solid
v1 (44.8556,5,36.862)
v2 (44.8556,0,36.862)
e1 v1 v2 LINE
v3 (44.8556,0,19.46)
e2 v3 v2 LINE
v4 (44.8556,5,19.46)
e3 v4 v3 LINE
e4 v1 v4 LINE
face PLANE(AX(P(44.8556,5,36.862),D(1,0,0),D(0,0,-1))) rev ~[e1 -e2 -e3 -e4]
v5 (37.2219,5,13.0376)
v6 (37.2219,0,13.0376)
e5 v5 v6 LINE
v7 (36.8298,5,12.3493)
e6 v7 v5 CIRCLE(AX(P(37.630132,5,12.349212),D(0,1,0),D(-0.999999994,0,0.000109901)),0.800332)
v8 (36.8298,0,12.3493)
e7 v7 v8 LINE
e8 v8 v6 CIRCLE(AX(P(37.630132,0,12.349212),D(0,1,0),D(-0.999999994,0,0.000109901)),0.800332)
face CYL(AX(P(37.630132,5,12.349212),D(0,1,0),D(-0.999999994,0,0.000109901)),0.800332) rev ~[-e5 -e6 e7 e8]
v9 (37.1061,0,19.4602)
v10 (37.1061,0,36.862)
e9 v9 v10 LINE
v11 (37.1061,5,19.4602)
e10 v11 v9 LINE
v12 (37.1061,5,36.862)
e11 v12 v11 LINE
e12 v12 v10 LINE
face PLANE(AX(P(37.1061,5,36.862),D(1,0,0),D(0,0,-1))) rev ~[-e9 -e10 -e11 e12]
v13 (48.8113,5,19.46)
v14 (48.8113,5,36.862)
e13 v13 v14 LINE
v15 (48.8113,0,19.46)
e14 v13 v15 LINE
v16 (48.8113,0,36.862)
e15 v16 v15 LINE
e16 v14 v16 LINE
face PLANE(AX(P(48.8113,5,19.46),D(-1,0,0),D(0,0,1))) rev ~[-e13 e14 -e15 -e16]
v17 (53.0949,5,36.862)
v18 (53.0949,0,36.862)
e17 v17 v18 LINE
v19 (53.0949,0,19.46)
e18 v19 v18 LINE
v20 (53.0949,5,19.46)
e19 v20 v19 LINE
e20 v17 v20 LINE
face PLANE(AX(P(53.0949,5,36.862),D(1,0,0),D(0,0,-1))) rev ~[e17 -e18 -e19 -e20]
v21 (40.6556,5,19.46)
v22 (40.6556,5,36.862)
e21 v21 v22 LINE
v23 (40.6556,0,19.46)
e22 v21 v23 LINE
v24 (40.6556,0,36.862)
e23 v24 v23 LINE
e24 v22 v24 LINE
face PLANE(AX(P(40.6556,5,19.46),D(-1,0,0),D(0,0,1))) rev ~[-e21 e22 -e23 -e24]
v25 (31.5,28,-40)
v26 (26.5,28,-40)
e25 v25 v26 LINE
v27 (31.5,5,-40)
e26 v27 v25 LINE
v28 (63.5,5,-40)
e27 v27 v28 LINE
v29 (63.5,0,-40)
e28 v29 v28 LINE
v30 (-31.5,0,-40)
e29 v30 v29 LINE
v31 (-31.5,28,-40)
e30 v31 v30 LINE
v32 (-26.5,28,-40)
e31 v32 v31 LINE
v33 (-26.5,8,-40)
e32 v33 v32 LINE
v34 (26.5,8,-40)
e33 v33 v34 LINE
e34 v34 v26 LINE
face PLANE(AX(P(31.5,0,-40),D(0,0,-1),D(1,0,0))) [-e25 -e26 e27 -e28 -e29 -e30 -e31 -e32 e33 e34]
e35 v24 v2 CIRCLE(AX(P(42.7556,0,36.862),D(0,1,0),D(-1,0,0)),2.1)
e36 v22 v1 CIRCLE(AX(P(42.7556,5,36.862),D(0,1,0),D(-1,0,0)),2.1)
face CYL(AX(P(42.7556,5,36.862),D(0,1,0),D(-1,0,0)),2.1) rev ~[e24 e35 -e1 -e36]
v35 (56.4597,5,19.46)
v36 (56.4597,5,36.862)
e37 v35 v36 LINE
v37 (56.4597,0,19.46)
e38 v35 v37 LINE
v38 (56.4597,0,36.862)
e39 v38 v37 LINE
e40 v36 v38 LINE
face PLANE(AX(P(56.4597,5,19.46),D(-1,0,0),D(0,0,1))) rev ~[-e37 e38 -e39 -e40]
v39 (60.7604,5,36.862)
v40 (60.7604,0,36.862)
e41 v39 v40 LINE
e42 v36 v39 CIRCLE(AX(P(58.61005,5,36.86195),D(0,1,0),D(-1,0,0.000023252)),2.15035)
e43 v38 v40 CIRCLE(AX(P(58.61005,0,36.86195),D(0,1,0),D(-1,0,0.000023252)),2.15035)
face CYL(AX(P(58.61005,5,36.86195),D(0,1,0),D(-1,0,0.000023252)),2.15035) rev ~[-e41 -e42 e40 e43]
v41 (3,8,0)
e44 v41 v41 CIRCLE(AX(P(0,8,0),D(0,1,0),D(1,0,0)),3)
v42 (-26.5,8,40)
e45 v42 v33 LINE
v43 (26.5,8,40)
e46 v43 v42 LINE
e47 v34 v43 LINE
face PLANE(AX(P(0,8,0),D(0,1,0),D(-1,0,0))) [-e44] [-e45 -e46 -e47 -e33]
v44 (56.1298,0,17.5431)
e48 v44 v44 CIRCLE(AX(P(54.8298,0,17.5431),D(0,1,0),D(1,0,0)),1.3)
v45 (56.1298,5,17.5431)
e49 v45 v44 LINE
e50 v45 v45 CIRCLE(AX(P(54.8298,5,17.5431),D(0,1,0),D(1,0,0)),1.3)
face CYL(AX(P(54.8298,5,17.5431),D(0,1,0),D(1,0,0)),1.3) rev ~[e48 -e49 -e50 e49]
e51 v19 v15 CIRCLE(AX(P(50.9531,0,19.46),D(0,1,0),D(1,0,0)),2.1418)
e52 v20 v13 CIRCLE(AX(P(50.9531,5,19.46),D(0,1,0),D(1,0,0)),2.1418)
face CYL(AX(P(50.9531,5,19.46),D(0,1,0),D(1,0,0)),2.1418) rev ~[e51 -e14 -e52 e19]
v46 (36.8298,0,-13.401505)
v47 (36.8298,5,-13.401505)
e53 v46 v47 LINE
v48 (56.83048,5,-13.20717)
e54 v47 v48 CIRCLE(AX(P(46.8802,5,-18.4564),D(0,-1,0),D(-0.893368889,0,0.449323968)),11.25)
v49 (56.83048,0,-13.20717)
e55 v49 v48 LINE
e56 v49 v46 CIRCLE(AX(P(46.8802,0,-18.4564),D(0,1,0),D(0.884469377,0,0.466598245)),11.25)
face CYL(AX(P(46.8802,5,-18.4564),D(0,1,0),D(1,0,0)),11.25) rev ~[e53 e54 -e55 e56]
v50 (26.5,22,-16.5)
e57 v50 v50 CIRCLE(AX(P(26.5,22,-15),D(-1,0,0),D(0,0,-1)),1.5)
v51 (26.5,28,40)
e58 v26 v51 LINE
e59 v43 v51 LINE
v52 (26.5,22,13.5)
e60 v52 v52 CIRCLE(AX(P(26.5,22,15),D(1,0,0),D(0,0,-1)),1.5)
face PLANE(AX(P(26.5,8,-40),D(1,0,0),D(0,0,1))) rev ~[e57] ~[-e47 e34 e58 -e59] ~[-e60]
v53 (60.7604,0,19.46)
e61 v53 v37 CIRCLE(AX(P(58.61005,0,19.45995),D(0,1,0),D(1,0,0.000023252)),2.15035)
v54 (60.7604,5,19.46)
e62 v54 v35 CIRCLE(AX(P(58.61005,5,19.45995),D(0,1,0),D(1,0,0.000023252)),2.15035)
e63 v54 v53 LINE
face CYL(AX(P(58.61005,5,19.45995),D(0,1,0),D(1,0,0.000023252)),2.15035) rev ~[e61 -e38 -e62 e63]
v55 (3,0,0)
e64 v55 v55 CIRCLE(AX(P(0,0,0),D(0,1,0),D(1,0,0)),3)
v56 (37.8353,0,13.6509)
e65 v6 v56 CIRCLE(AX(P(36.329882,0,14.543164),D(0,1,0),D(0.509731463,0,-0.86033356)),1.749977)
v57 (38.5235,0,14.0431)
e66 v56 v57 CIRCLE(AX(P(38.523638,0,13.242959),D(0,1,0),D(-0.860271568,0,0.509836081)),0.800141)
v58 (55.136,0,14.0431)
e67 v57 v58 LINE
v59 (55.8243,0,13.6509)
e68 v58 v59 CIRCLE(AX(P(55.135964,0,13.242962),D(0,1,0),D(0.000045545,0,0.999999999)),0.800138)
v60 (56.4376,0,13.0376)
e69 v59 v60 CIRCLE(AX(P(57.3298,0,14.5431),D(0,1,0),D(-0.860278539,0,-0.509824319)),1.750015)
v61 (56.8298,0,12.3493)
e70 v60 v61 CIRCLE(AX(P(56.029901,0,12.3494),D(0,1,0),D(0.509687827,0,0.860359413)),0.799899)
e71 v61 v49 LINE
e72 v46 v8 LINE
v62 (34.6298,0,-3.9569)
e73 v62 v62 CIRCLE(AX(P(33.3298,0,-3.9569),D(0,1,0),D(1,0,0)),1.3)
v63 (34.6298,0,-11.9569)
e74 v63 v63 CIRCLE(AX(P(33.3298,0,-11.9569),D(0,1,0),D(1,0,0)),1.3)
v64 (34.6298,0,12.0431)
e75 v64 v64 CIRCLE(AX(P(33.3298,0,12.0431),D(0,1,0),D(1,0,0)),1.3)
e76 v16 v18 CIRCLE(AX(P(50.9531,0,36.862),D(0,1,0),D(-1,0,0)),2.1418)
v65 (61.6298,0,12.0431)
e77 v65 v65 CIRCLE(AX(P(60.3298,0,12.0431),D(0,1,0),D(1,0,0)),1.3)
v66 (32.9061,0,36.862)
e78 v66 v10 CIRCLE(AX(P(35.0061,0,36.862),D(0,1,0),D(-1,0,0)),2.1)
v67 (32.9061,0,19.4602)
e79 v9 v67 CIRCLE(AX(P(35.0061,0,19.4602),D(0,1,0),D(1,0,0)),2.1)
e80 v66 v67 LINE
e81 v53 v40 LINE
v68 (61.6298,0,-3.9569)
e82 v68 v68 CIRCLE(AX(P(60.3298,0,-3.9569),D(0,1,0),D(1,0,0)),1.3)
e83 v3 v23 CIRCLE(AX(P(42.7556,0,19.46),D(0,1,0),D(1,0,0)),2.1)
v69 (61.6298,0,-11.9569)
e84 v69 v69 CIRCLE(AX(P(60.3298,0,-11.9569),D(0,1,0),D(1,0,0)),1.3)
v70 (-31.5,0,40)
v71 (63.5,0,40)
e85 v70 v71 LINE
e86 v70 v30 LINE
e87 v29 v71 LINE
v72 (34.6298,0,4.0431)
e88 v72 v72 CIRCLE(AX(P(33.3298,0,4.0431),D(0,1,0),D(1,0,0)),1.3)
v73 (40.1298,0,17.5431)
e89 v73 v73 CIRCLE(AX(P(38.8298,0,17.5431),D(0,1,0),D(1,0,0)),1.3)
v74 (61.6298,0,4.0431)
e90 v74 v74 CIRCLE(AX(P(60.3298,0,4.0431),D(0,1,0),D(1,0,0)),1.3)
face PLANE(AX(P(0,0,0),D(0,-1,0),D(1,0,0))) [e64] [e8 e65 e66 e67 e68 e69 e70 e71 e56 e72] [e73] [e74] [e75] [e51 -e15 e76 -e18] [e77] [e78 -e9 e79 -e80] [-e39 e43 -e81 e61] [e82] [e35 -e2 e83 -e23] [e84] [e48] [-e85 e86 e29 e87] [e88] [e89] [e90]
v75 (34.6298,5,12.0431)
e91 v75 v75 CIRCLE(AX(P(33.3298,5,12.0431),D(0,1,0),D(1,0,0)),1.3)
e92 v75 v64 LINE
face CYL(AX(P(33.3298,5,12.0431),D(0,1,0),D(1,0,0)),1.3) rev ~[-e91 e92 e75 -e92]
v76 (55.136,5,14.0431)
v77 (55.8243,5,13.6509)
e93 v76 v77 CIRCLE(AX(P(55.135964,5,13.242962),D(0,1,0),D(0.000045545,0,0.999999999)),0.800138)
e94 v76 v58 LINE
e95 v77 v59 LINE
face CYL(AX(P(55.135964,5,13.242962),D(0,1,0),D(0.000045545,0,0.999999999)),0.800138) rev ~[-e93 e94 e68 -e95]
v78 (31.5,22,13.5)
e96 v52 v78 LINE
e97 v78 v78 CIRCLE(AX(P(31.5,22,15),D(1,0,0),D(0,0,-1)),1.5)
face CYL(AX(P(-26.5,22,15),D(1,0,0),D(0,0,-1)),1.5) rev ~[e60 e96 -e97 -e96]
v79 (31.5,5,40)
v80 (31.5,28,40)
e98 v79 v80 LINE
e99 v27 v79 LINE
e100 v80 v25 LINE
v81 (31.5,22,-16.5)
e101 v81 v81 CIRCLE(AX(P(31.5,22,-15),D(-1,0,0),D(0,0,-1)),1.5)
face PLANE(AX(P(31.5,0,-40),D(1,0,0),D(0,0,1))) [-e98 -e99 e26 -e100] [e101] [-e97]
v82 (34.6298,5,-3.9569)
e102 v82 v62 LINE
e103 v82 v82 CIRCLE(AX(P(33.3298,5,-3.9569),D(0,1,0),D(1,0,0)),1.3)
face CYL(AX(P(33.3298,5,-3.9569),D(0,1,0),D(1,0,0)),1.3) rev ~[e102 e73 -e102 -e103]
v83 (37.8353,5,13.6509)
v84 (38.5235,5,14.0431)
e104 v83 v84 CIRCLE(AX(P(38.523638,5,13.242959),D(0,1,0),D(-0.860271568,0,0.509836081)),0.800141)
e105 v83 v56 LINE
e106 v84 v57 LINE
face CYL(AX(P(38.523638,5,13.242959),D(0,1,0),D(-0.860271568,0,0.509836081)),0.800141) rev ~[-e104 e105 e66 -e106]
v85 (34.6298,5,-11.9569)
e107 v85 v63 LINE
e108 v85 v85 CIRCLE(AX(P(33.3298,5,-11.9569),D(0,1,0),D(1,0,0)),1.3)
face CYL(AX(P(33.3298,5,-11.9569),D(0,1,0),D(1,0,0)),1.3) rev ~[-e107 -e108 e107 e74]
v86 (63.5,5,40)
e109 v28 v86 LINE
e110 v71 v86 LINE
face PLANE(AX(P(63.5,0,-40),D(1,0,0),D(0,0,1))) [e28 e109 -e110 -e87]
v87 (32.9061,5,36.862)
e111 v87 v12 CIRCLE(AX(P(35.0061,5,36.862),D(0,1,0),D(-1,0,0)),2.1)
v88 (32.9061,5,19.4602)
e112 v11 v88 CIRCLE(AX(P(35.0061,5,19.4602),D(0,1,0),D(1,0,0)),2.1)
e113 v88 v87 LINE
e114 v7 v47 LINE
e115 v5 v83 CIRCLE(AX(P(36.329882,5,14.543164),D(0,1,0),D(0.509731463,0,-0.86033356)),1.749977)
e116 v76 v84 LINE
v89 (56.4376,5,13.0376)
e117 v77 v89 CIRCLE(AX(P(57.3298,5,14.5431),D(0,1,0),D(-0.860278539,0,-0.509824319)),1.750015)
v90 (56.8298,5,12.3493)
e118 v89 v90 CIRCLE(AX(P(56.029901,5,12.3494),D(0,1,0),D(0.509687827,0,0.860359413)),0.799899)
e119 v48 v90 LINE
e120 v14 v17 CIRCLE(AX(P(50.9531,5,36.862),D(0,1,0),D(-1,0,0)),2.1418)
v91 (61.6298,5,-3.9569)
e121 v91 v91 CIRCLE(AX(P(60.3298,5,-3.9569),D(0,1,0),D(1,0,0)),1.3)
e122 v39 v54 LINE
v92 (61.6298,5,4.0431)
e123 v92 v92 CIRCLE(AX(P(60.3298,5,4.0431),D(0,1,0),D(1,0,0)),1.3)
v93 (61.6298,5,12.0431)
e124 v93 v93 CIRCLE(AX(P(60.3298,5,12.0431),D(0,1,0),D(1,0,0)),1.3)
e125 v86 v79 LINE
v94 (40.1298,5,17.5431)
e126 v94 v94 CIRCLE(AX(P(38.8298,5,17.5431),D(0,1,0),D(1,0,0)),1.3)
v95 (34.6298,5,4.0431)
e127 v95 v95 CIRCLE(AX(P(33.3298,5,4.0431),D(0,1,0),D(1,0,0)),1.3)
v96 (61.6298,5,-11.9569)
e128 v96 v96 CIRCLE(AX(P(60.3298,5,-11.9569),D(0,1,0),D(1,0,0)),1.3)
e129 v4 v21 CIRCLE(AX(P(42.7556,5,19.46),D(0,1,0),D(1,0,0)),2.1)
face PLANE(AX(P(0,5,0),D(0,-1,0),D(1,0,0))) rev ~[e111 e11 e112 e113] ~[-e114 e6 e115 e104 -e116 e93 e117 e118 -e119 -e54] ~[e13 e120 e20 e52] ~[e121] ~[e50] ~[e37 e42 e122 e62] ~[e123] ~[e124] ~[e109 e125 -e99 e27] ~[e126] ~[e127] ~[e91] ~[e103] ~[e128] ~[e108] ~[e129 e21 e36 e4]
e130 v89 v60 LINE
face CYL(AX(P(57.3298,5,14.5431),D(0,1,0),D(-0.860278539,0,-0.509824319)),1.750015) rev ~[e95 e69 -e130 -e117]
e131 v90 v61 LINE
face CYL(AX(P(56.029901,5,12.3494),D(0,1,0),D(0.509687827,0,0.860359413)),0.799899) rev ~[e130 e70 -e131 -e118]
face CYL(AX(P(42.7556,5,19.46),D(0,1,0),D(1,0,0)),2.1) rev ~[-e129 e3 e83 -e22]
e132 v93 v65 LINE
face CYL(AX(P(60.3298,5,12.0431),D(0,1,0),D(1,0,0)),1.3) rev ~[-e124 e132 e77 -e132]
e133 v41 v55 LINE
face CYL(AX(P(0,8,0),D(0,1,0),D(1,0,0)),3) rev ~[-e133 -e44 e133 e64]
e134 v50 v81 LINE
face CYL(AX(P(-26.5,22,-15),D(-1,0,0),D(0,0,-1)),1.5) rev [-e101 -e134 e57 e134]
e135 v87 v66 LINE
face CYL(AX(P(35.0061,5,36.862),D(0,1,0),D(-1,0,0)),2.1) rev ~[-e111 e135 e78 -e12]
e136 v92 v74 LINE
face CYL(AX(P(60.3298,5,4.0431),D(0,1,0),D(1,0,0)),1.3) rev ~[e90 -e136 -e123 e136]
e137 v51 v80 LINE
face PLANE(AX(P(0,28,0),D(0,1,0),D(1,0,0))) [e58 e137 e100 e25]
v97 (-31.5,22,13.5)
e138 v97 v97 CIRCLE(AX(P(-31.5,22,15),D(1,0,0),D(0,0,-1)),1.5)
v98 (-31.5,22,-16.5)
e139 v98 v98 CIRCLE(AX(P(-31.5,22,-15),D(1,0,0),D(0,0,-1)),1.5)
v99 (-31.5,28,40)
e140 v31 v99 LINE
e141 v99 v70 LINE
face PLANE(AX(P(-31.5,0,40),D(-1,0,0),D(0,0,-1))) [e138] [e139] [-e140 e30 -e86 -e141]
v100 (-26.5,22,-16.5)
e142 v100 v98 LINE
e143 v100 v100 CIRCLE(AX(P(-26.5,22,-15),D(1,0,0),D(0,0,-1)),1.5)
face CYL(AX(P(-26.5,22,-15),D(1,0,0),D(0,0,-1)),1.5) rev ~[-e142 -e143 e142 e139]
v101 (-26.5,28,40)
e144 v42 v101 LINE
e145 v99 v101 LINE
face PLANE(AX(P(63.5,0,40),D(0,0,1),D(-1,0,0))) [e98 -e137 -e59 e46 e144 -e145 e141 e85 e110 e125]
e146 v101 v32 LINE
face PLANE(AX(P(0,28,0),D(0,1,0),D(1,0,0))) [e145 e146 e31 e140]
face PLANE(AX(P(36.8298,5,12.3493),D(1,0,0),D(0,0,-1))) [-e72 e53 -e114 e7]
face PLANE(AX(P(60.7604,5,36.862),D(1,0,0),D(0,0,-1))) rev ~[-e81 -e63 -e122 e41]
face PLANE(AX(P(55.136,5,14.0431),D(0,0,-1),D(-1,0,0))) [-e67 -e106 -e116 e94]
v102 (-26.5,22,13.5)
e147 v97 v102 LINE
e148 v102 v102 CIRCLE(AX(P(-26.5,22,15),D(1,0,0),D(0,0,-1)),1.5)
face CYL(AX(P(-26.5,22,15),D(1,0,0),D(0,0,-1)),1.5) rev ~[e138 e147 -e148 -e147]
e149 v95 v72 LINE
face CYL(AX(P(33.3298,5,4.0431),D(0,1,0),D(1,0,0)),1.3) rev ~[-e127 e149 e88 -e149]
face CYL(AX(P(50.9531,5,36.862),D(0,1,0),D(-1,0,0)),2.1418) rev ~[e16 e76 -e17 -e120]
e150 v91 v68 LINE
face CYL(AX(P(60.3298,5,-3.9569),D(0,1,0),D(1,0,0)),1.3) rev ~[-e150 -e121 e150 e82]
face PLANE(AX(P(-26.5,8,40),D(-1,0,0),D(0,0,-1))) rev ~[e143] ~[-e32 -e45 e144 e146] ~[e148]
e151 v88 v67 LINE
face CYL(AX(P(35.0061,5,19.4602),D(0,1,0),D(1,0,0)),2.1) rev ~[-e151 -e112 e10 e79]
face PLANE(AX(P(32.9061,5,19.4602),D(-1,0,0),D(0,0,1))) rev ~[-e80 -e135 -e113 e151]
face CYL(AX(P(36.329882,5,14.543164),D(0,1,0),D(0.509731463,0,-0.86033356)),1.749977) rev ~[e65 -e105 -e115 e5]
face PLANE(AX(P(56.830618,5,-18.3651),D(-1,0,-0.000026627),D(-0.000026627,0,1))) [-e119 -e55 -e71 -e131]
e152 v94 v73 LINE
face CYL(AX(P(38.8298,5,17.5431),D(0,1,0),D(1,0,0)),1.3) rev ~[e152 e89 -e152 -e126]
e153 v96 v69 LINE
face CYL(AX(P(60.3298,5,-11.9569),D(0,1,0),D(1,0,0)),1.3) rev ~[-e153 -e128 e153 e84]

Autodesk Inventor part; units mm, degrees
ref_plane "YZ Plane" through (0, 0, 0) normal (1, 0, 0) x (0, 1, 0)
ref_plane "XZ Plane" through (0, 0, 0) normal (0, 1, 0) x (-1, 0, 0)
ref_plane "XY Plane" through (0, 0, 0) normal (0, 0, 1) x (1, 0, 0)
sketch "Эскиз1" plane through (0, 0, 0) normal (0, 1, 0) x (-1, 0, 0)
  line L0 (-31.5, 40) -> (31.5, 40)
  line L1 (31.5, 40) -> (31.5, -40)
  line L2 (31.5, -40) -> (-31.5, -40)
  line L3 (-31.5, -40) -> (-31.5, 40)
  line L4 (-31.5, 40) -> (31.5, -40) construction
  line L5 (31.5, 40) -> (-31.5, -40) construction
  point P0 (0, 0)
  dimension "d0" = 63
  dimension "d1" = 80
extrude "Выдавливание1" add sketch "Эскиз1" along normal blind 8
sketch "Эскиз2" plane through (0, 8, 0) normal (0, 1, 0) x (1, 0, 0)
  line L0 (-31.5, -40) -> (31.5, -40) projected
  line L1 (31.5, 40) -> (-31.5, 40) projected
  line L2 (-31.5, -40) -> (-26.5, -40)
  line L3 (-26.5, -40) -> (-26.5, 40)
  line L4 (-26.5, 40) -> (-31.5, 40)
  line L5 (-31.5, 40) -> (-31.5, -40)
  line L6 (31.5, -40) -> (31.5, 40) projected
  line L7 (31.5, 40) -> (26.5, 40)
  line L8 (26.5, 40) -> (26.5, -40)
  line L9 (26.5, -40) -> (31.5, -40)
  line L10 (31.5, -40) -> (31.5, 40)
  point P0 (0, 0)
  dimension "d4" = 5
  dimension "d5" = 5
extrude "Выдавливание2" add sketch "Эскиз2" along normal blind 20 contours L5 L1 L3 L0 | L8 L1 L6 L0
sketch "Эскиз3" plane through (-26.5, 8, 40) normal (1, 0, 0) x (0, 0, -1)
  line L0 (0, 0) -> (0, 20) projected
  line L1 (0, 0) -> (25, 0)
  line L2 (25, 0) -> (25, 14)
  line L3 (25, 14) -> (0, 14)
  line L4 (0, 14) -> (0, 0)
  circle A0 centre (25, 14) radius 1.5
  line L5 (80, 20) -> (0, 20) projected
  line L6 (40, 20) -> (40, 22.577)
  circle A1 centre (55, 14) radius 1.5
  point P0 (40, -8)
  dimension "d8" = 25
  dimension "d9" = 14
  dimension "d10" = 3
extrude "Выдавливание3" cut sketch "Эскиз3" along normal blind 63.5 and the other way blind 5 contours A0 L2 L3 | L3 L2 A0 | A1
sketch "Эскиз4" plane through (0, 0, 0) normal (0, -1, 0) x (1, 0, 0)
  line L0 (31.5, -40) -> (31.5, 40) projected
  line L1 (31.5, -40) -> (63.5, -40)
  line L2 (63.5, -40) -> (63.5, 40)
  line L3 (63.5, 40) -> (31.5, 40)
  line L4 (31.5, 40) -> (31.5, -40)
  point P0 (0, 0)
  dimension "d15" = 32
  dimension "d16" = 80
extrude "Выдавливание4" add sketch "Эскиз4" against normal blind 5
sketch "Эскиз5" plane through (0, 5, 0) normal (0, 1, 0) x (1, 0, 0)
  line L0 (34.2298, 0.6569) -> (31.9298, 0.6569)
  line L1 (34.2298, 0.6569) -> (34.2298, -0.7431)
  line L2 (31.9298, -0.7431) -> (34.2298, -0.7431)
  line L3 (31.9298, -7.3431) -> (31.9298, -0.7431)
  line L4 (34.2298, -7.3431) -> (31.9298, -7.3431)
  circle A0 centre (46.8802, 18.4564) radius 9.15
  circle A1 centre (46.8298, 18.4569) radius 1.5
  circle A2 centre (54.8298, -17.5431) radius 1.3
  circle A3 centre (60.3298, -4.0431) radius 1.3
  circle A4 centre (60.3298, -12.0431) radius 1.3
  circle A5 centre (60.3298, 3.9569) radius 1.3
  circle A6 centre (60.3298, 11.9569) radius 1.3
  circle A7 centre (38.8298, -17.5431) radius 1.3
  circle A8 centre (33.3298, -4.0431) radius 1.3
  circle A9 centre (33.3298, -12.0431) radius 1.3
  circle A10 centre (33.3298, 3.9569) radius 1.3
  circle A11 centre (33.3298, 11.9569) radius 1.3
  line L5 (46.7298, 29.4767) -> (46.7298, 28.9365)
  line L6 (39.8298, 29.4767) -> (46.7298, 29.4767)
  arc A12 (39.8298, 29.4767) -> (39.0798, 29.4255) centre (39.8298, 23.9569) ccw
  line L7 (39.0798, 26.9569) -> (39.0798, 29.4255)
  arc A13 (37.3298, 25.2069) -> (39.0798, 26.9569) centre (37.3298, 26.9569) ccw
  line L8 (36.8298, 25.2069) -> (37.3298, 25.2069)
  line L9 (36.8298, -12.3493) -> (36.8298, 25.2069)
  arc A14 (36.8298, -12.3493) -> (37.2219, -13.0376) centre (37.6298, -12.3493) ccw
  arc A15 (37.2219, -13.0376) -> (37.8353, -13.6509) centre (36.3298, -14.5431) ccw
  arc A16 (37.8353, -13.6509) -> (38.5235, -14.0431) centre (38.5235, -13.2431) ccw
  line L10 (55.136, -14.0431) -> (38.5235, -14.0431)
  arc A17 (55.136, -14.0431) -> (55.8243, -13.6509) centre (55.136, -13.2431) ccw
  arc A18 (56.4376, -13.0376) -> (55.8243, -13.6509) centre (57.3298, -14.5431) ccw
  arc A19 (55.8243, -13.6509) -> (56.4376, -13.0376) centre (57.3298, -14.5431) ccw
  line L11 (35.5069, 25.2069) -> (36.8298, 25.2069)
  arc A20 (35.5069, 25.2069) -> (35.3298, 23.9569) centre (39.8376, 23.9558) ccw
  line L12 (35.3298, 23.9569) -> (35.3298, 16.4569)
  line L13 (34.2298, 16.4569) -> (35.3298, 16.4569)
  line L14 (34.2298, 15.2569) -> (34.2298, 16.4569)
  line L15 (31.9298, 15.2569) -> (34.2298, 15.2569)
  line L16 (31.9298, 8.6569) -> (31.9298, 15.2569)
  line L17 (34.2298, 8.6569) -> (31.9298, 8.6569)
  line L18 (34.2298, 7.2569) -> (34.2298, 8.6569)
  line L19 (31.9298, 7.2569) -> (34.2298, 7.2569)
  line L20 (31.9298, 0.6569) -> (31.9298, 7.2569)
  line L21 (34.2298, 0.6569) -> (31.9298, 0.6569)
  line L22 (34.2298, -0.7431) -> (34.2298, 0.6569)
  line L23 (31.9298, -0.7431) -> (34.2298, -0.7431)
  line L24 (31.9298, -7.3431) -> (31.9298, -0.7431)
  line L25 (34.2298, -7.3431) -> (31.9298, -7.3431)
  line L26 (34.2298, -8.7431) -> (34.2298, -7.3431)
  line L27 (31.9298, -8.7431) -> (34.2298, -8.7431)
  line L28 (31.9298, -15.3431) -> (31.9298, -8.7431)
  line L29 (34.2298, -15.3431) -> (31.9298, -15.3431)
  line L30 (34.2298, -16.5629) -> (34.2298, -15.3431)
  arc A21 (34.2298, -16.5629) -> (34.31, -16.6431) centre (35.3298, -15.5431) ccw
  line L31 (35.5298, -16.6431) -> (34.31, -16.6431)
  line L32 (35.5298, -18.9431) -> (35.5298, -16.6431)
  line L33 (42.1298, -18.9431) -> (35.5298, -18.9431)
  line L34 (42.1298, -16.6431) -> (42.1298, -18.9431)
  line L35 (51.5298, -16.6431) -> (42.1298, -16.6431)
  line L36 (51.5298, -18.9431) -> (51.5298, -16.6431)
  line L37 (58.1298, -18.9431) -> (51.5298, -18.9431)
  line L38 (58.1298, -16.6431) -> (58.1298, -18.9431)
  line L39 (59.3496, -16.6431) -> (58.1298, -16.6431)
  arc A22 (59.3496, -16.6431) -> (59.4298, -16.5629) centre (58.3298, -15.5431) ccw
  line L40 (59.4298, -15.3431) -> (59.4298, -16.5629)
  line L41 (61.7298, -15.3431) -> (59.4298, -15.3431)
  line L42 (61.7298, -8.7431) -> (61.7298, -15.3431)
  line L43 (59.4298, -8.7431) -> (61.7298, -8.7431)
  line L44 (59.4298, -7.3431) -> (59.4298, -8.7431)
  line L45 (61.7298, -7.3431) -> (59.4298, -7.3431)
  line L46 (61.7298, -0.7431) -> (61.7298, -7.3431)
  line L47 (59.4298, -0.7431) -> (61.7298, -0.7431)
  line L48 (59.4298, 0.6569) -> (59.4298, -0.7431)
  line L49 (61.7298, 0.6569) -> (59.4298, 0.6569)
  line L50 (61.7298, 7.2569) -> (61.7298, 0.6569)
  line L51 (59.4298, 7.2569) -> (61.7298, 7.2569)
  line L52 (59.4298, 8.6569) -> (59.4298, 7.2569)
  line L53 (61.7298, 8.6569) -> (59.4298, 8.6569)
  line L54 (61.7298, 15.2568) -> (61.7298, 8.6569)
  line L55 (59.4305, 15.2569) -> (61.7298, 15.2568)
  line L56 (59.4306, 16.4569) -> (59.4305, 15.2569)
  line L57 (58.3306, 16.4569) -> (59.4306, 16.4569)
  line L58 (58.3308, 23.9569) -> (58.3306, 16.4569)
  arc A23 (58.3308, 23.9569) -> (58.1537, 25.2069) centre (53.8229, 23.9559) ccw
  line L59 (56.8308, 25.2069) -> (58.1537, 25.2069)
  line L60 (56.3308, 25.2069) -> (56.8308, 25.2069)
  arc A24 (54.5808, 26.957) -> (56.3308, 25.2069) centre (56.3308, 26.9569) ccw
  line L61 (54.5809, 29.4256) -> (54.5808, 26.957)
  arc A25 (54.5809, 29.4256) -> (53.8309, 29.4768) centre (53.8308, 23.957) ccw
  line L62 (46.9309, 29.477) -> (53.8309, 29.4768)
  line L63 (46.9309, 28.9368) -> (46.9309, 29.477)
  arc A26 (37.8353, -13.6509) -> (37.2219, -13.0376) centre (36.3298, -14.5431) ccw
  arc A27 (56.4376, -13.0376) -> (56.8298, -12.3493) centre (56.0298, -12.3493) ccw
  line L64 (56.8308, 25.2069) -> (56.8298, -12.3493)
  line L65 (56.0298, 18.3651) -> (56.8306, 18.3651)
  line L66 (37.7307, 18.3656) -> (36.8298, 18.3657)
  point P0 (0, 0)
extrude "Выдавливание5" cut sketch "Эскиз5" against normal through all contours L66 A0 L65 L64 A27 A18 A17 L10 A16 A26 A14 L9 | A0 | A26 A15 | A19 A18 | A1 | A2 | A3 | A4 | A5 | A6 | A7 | A8 | A9 | A10 | A11
sketch "Эскиз6" plane through (0, 5, 0) normal (0, 1, 0) x (1, 0, 0)
  arc A0 (56.0298, 18.3651) -> (37.7307, 18.3656) centre (46.8802, 18.4564) ccw projected
  circle A1 centre (46.8802, 18.4564) radius 11.25
  point P0 (0, 0)
  dimension "d21" = 22.5
extrude "Выдавливание6" cut sketch "Эскиз6" against normal through all
sketch "Эскиз7" plane through (0, 8, 0) normal (0, 1, 0) x (1, 0, 0)
  circle A0 centre (0, 0) radius 3
  dimension "d24" = 6
extrude "Выдавливание7" cut sketch "Эскиз7" against normal through all
sketch "Эскиз8" plane through (0, 5, 0) normal (0, 1, 0) x (1, 0, 0)
  line L0 (35.0061, -36.862) -> (35.0061, -19.4602) construction
  line L1 (37.1061, -36.862) -> (37.1061, -19.4602)
  line L2 (32.9061, -19.4602) -> (32.9061, -36.862)
  arc A0 (32.9061, -36.862) -> (37.1061, -36.862) centre (35.0061, -36.862) ccw
  arc A1 (37.1061, -19.4602) -> (32.9061, -19.4602) centre (35.0061, -19.4602) ccw
  line L3 (42.7556, -36.862) -> (42.7556, -19.46) construction
  line L4 (44.8556, -36.862) -> (44.8556, -19.46)
  line L5 (40.6556, -19.46) -> (40.6556, -36.862)
  arc A2 (40.6556, -36.862) -> (44.8556, -36.862) centre (42.7556, -36.862) ccw
  arc A3 (44.8556, -19.46) -> (40.6556, -19.46) centre (42.7556, -19.46) ccw
  line L6 (50.9531, -36.862) -> (50.9531, -19.46) construction
  line L7 (53.0949, -36.862) -> (53.0949, -19.46)
  line L8 (48.8113, -19.46) -> (48.8113, -36.862)
  arc A4 (48.8113, -36.862) -> (53.0949, -36.862) centre (50.9531, -36.862) ccw
  arc A5 (53.0949, -19.46) -> (48.8113, -19.46) centre (50.9531, -19.46) ccw
  line L9 (58.61, -36.862) -> (58.61, -19.46) construction
  line L10 (60.7604, -36.862) -> (60.7604, -19.46)
  line L11 (56.4597, -19.46) -> (56.4597, -36.862)
  arc A6 (56.4597, -36.862) -> (60.7604, -36.862) centre (58.61, -36.862) ccw
  arc A7 (60.7604, -19.46) -> (56.4597, -19.46) centre (58.61, -19.46) ccw
  point P0 (0, 0)
  point P1 (35.0061, -28.1611)
  point P2 (42.7556, -28.161)
  point P3 (35.0061, -38.962)
  point P4 (42.7556, -38.962)
  point P5 (50.9531, -28.161)
  point P6 (58.61, -28.161)
  dimension "d27" = 4.2
  dimension "d28" = 4.2
  dimension "d29" = 17.402
extrude "Выдавливание8" cut sketch "Эскиз8" against normal blind 19.25
properties part number "База"
